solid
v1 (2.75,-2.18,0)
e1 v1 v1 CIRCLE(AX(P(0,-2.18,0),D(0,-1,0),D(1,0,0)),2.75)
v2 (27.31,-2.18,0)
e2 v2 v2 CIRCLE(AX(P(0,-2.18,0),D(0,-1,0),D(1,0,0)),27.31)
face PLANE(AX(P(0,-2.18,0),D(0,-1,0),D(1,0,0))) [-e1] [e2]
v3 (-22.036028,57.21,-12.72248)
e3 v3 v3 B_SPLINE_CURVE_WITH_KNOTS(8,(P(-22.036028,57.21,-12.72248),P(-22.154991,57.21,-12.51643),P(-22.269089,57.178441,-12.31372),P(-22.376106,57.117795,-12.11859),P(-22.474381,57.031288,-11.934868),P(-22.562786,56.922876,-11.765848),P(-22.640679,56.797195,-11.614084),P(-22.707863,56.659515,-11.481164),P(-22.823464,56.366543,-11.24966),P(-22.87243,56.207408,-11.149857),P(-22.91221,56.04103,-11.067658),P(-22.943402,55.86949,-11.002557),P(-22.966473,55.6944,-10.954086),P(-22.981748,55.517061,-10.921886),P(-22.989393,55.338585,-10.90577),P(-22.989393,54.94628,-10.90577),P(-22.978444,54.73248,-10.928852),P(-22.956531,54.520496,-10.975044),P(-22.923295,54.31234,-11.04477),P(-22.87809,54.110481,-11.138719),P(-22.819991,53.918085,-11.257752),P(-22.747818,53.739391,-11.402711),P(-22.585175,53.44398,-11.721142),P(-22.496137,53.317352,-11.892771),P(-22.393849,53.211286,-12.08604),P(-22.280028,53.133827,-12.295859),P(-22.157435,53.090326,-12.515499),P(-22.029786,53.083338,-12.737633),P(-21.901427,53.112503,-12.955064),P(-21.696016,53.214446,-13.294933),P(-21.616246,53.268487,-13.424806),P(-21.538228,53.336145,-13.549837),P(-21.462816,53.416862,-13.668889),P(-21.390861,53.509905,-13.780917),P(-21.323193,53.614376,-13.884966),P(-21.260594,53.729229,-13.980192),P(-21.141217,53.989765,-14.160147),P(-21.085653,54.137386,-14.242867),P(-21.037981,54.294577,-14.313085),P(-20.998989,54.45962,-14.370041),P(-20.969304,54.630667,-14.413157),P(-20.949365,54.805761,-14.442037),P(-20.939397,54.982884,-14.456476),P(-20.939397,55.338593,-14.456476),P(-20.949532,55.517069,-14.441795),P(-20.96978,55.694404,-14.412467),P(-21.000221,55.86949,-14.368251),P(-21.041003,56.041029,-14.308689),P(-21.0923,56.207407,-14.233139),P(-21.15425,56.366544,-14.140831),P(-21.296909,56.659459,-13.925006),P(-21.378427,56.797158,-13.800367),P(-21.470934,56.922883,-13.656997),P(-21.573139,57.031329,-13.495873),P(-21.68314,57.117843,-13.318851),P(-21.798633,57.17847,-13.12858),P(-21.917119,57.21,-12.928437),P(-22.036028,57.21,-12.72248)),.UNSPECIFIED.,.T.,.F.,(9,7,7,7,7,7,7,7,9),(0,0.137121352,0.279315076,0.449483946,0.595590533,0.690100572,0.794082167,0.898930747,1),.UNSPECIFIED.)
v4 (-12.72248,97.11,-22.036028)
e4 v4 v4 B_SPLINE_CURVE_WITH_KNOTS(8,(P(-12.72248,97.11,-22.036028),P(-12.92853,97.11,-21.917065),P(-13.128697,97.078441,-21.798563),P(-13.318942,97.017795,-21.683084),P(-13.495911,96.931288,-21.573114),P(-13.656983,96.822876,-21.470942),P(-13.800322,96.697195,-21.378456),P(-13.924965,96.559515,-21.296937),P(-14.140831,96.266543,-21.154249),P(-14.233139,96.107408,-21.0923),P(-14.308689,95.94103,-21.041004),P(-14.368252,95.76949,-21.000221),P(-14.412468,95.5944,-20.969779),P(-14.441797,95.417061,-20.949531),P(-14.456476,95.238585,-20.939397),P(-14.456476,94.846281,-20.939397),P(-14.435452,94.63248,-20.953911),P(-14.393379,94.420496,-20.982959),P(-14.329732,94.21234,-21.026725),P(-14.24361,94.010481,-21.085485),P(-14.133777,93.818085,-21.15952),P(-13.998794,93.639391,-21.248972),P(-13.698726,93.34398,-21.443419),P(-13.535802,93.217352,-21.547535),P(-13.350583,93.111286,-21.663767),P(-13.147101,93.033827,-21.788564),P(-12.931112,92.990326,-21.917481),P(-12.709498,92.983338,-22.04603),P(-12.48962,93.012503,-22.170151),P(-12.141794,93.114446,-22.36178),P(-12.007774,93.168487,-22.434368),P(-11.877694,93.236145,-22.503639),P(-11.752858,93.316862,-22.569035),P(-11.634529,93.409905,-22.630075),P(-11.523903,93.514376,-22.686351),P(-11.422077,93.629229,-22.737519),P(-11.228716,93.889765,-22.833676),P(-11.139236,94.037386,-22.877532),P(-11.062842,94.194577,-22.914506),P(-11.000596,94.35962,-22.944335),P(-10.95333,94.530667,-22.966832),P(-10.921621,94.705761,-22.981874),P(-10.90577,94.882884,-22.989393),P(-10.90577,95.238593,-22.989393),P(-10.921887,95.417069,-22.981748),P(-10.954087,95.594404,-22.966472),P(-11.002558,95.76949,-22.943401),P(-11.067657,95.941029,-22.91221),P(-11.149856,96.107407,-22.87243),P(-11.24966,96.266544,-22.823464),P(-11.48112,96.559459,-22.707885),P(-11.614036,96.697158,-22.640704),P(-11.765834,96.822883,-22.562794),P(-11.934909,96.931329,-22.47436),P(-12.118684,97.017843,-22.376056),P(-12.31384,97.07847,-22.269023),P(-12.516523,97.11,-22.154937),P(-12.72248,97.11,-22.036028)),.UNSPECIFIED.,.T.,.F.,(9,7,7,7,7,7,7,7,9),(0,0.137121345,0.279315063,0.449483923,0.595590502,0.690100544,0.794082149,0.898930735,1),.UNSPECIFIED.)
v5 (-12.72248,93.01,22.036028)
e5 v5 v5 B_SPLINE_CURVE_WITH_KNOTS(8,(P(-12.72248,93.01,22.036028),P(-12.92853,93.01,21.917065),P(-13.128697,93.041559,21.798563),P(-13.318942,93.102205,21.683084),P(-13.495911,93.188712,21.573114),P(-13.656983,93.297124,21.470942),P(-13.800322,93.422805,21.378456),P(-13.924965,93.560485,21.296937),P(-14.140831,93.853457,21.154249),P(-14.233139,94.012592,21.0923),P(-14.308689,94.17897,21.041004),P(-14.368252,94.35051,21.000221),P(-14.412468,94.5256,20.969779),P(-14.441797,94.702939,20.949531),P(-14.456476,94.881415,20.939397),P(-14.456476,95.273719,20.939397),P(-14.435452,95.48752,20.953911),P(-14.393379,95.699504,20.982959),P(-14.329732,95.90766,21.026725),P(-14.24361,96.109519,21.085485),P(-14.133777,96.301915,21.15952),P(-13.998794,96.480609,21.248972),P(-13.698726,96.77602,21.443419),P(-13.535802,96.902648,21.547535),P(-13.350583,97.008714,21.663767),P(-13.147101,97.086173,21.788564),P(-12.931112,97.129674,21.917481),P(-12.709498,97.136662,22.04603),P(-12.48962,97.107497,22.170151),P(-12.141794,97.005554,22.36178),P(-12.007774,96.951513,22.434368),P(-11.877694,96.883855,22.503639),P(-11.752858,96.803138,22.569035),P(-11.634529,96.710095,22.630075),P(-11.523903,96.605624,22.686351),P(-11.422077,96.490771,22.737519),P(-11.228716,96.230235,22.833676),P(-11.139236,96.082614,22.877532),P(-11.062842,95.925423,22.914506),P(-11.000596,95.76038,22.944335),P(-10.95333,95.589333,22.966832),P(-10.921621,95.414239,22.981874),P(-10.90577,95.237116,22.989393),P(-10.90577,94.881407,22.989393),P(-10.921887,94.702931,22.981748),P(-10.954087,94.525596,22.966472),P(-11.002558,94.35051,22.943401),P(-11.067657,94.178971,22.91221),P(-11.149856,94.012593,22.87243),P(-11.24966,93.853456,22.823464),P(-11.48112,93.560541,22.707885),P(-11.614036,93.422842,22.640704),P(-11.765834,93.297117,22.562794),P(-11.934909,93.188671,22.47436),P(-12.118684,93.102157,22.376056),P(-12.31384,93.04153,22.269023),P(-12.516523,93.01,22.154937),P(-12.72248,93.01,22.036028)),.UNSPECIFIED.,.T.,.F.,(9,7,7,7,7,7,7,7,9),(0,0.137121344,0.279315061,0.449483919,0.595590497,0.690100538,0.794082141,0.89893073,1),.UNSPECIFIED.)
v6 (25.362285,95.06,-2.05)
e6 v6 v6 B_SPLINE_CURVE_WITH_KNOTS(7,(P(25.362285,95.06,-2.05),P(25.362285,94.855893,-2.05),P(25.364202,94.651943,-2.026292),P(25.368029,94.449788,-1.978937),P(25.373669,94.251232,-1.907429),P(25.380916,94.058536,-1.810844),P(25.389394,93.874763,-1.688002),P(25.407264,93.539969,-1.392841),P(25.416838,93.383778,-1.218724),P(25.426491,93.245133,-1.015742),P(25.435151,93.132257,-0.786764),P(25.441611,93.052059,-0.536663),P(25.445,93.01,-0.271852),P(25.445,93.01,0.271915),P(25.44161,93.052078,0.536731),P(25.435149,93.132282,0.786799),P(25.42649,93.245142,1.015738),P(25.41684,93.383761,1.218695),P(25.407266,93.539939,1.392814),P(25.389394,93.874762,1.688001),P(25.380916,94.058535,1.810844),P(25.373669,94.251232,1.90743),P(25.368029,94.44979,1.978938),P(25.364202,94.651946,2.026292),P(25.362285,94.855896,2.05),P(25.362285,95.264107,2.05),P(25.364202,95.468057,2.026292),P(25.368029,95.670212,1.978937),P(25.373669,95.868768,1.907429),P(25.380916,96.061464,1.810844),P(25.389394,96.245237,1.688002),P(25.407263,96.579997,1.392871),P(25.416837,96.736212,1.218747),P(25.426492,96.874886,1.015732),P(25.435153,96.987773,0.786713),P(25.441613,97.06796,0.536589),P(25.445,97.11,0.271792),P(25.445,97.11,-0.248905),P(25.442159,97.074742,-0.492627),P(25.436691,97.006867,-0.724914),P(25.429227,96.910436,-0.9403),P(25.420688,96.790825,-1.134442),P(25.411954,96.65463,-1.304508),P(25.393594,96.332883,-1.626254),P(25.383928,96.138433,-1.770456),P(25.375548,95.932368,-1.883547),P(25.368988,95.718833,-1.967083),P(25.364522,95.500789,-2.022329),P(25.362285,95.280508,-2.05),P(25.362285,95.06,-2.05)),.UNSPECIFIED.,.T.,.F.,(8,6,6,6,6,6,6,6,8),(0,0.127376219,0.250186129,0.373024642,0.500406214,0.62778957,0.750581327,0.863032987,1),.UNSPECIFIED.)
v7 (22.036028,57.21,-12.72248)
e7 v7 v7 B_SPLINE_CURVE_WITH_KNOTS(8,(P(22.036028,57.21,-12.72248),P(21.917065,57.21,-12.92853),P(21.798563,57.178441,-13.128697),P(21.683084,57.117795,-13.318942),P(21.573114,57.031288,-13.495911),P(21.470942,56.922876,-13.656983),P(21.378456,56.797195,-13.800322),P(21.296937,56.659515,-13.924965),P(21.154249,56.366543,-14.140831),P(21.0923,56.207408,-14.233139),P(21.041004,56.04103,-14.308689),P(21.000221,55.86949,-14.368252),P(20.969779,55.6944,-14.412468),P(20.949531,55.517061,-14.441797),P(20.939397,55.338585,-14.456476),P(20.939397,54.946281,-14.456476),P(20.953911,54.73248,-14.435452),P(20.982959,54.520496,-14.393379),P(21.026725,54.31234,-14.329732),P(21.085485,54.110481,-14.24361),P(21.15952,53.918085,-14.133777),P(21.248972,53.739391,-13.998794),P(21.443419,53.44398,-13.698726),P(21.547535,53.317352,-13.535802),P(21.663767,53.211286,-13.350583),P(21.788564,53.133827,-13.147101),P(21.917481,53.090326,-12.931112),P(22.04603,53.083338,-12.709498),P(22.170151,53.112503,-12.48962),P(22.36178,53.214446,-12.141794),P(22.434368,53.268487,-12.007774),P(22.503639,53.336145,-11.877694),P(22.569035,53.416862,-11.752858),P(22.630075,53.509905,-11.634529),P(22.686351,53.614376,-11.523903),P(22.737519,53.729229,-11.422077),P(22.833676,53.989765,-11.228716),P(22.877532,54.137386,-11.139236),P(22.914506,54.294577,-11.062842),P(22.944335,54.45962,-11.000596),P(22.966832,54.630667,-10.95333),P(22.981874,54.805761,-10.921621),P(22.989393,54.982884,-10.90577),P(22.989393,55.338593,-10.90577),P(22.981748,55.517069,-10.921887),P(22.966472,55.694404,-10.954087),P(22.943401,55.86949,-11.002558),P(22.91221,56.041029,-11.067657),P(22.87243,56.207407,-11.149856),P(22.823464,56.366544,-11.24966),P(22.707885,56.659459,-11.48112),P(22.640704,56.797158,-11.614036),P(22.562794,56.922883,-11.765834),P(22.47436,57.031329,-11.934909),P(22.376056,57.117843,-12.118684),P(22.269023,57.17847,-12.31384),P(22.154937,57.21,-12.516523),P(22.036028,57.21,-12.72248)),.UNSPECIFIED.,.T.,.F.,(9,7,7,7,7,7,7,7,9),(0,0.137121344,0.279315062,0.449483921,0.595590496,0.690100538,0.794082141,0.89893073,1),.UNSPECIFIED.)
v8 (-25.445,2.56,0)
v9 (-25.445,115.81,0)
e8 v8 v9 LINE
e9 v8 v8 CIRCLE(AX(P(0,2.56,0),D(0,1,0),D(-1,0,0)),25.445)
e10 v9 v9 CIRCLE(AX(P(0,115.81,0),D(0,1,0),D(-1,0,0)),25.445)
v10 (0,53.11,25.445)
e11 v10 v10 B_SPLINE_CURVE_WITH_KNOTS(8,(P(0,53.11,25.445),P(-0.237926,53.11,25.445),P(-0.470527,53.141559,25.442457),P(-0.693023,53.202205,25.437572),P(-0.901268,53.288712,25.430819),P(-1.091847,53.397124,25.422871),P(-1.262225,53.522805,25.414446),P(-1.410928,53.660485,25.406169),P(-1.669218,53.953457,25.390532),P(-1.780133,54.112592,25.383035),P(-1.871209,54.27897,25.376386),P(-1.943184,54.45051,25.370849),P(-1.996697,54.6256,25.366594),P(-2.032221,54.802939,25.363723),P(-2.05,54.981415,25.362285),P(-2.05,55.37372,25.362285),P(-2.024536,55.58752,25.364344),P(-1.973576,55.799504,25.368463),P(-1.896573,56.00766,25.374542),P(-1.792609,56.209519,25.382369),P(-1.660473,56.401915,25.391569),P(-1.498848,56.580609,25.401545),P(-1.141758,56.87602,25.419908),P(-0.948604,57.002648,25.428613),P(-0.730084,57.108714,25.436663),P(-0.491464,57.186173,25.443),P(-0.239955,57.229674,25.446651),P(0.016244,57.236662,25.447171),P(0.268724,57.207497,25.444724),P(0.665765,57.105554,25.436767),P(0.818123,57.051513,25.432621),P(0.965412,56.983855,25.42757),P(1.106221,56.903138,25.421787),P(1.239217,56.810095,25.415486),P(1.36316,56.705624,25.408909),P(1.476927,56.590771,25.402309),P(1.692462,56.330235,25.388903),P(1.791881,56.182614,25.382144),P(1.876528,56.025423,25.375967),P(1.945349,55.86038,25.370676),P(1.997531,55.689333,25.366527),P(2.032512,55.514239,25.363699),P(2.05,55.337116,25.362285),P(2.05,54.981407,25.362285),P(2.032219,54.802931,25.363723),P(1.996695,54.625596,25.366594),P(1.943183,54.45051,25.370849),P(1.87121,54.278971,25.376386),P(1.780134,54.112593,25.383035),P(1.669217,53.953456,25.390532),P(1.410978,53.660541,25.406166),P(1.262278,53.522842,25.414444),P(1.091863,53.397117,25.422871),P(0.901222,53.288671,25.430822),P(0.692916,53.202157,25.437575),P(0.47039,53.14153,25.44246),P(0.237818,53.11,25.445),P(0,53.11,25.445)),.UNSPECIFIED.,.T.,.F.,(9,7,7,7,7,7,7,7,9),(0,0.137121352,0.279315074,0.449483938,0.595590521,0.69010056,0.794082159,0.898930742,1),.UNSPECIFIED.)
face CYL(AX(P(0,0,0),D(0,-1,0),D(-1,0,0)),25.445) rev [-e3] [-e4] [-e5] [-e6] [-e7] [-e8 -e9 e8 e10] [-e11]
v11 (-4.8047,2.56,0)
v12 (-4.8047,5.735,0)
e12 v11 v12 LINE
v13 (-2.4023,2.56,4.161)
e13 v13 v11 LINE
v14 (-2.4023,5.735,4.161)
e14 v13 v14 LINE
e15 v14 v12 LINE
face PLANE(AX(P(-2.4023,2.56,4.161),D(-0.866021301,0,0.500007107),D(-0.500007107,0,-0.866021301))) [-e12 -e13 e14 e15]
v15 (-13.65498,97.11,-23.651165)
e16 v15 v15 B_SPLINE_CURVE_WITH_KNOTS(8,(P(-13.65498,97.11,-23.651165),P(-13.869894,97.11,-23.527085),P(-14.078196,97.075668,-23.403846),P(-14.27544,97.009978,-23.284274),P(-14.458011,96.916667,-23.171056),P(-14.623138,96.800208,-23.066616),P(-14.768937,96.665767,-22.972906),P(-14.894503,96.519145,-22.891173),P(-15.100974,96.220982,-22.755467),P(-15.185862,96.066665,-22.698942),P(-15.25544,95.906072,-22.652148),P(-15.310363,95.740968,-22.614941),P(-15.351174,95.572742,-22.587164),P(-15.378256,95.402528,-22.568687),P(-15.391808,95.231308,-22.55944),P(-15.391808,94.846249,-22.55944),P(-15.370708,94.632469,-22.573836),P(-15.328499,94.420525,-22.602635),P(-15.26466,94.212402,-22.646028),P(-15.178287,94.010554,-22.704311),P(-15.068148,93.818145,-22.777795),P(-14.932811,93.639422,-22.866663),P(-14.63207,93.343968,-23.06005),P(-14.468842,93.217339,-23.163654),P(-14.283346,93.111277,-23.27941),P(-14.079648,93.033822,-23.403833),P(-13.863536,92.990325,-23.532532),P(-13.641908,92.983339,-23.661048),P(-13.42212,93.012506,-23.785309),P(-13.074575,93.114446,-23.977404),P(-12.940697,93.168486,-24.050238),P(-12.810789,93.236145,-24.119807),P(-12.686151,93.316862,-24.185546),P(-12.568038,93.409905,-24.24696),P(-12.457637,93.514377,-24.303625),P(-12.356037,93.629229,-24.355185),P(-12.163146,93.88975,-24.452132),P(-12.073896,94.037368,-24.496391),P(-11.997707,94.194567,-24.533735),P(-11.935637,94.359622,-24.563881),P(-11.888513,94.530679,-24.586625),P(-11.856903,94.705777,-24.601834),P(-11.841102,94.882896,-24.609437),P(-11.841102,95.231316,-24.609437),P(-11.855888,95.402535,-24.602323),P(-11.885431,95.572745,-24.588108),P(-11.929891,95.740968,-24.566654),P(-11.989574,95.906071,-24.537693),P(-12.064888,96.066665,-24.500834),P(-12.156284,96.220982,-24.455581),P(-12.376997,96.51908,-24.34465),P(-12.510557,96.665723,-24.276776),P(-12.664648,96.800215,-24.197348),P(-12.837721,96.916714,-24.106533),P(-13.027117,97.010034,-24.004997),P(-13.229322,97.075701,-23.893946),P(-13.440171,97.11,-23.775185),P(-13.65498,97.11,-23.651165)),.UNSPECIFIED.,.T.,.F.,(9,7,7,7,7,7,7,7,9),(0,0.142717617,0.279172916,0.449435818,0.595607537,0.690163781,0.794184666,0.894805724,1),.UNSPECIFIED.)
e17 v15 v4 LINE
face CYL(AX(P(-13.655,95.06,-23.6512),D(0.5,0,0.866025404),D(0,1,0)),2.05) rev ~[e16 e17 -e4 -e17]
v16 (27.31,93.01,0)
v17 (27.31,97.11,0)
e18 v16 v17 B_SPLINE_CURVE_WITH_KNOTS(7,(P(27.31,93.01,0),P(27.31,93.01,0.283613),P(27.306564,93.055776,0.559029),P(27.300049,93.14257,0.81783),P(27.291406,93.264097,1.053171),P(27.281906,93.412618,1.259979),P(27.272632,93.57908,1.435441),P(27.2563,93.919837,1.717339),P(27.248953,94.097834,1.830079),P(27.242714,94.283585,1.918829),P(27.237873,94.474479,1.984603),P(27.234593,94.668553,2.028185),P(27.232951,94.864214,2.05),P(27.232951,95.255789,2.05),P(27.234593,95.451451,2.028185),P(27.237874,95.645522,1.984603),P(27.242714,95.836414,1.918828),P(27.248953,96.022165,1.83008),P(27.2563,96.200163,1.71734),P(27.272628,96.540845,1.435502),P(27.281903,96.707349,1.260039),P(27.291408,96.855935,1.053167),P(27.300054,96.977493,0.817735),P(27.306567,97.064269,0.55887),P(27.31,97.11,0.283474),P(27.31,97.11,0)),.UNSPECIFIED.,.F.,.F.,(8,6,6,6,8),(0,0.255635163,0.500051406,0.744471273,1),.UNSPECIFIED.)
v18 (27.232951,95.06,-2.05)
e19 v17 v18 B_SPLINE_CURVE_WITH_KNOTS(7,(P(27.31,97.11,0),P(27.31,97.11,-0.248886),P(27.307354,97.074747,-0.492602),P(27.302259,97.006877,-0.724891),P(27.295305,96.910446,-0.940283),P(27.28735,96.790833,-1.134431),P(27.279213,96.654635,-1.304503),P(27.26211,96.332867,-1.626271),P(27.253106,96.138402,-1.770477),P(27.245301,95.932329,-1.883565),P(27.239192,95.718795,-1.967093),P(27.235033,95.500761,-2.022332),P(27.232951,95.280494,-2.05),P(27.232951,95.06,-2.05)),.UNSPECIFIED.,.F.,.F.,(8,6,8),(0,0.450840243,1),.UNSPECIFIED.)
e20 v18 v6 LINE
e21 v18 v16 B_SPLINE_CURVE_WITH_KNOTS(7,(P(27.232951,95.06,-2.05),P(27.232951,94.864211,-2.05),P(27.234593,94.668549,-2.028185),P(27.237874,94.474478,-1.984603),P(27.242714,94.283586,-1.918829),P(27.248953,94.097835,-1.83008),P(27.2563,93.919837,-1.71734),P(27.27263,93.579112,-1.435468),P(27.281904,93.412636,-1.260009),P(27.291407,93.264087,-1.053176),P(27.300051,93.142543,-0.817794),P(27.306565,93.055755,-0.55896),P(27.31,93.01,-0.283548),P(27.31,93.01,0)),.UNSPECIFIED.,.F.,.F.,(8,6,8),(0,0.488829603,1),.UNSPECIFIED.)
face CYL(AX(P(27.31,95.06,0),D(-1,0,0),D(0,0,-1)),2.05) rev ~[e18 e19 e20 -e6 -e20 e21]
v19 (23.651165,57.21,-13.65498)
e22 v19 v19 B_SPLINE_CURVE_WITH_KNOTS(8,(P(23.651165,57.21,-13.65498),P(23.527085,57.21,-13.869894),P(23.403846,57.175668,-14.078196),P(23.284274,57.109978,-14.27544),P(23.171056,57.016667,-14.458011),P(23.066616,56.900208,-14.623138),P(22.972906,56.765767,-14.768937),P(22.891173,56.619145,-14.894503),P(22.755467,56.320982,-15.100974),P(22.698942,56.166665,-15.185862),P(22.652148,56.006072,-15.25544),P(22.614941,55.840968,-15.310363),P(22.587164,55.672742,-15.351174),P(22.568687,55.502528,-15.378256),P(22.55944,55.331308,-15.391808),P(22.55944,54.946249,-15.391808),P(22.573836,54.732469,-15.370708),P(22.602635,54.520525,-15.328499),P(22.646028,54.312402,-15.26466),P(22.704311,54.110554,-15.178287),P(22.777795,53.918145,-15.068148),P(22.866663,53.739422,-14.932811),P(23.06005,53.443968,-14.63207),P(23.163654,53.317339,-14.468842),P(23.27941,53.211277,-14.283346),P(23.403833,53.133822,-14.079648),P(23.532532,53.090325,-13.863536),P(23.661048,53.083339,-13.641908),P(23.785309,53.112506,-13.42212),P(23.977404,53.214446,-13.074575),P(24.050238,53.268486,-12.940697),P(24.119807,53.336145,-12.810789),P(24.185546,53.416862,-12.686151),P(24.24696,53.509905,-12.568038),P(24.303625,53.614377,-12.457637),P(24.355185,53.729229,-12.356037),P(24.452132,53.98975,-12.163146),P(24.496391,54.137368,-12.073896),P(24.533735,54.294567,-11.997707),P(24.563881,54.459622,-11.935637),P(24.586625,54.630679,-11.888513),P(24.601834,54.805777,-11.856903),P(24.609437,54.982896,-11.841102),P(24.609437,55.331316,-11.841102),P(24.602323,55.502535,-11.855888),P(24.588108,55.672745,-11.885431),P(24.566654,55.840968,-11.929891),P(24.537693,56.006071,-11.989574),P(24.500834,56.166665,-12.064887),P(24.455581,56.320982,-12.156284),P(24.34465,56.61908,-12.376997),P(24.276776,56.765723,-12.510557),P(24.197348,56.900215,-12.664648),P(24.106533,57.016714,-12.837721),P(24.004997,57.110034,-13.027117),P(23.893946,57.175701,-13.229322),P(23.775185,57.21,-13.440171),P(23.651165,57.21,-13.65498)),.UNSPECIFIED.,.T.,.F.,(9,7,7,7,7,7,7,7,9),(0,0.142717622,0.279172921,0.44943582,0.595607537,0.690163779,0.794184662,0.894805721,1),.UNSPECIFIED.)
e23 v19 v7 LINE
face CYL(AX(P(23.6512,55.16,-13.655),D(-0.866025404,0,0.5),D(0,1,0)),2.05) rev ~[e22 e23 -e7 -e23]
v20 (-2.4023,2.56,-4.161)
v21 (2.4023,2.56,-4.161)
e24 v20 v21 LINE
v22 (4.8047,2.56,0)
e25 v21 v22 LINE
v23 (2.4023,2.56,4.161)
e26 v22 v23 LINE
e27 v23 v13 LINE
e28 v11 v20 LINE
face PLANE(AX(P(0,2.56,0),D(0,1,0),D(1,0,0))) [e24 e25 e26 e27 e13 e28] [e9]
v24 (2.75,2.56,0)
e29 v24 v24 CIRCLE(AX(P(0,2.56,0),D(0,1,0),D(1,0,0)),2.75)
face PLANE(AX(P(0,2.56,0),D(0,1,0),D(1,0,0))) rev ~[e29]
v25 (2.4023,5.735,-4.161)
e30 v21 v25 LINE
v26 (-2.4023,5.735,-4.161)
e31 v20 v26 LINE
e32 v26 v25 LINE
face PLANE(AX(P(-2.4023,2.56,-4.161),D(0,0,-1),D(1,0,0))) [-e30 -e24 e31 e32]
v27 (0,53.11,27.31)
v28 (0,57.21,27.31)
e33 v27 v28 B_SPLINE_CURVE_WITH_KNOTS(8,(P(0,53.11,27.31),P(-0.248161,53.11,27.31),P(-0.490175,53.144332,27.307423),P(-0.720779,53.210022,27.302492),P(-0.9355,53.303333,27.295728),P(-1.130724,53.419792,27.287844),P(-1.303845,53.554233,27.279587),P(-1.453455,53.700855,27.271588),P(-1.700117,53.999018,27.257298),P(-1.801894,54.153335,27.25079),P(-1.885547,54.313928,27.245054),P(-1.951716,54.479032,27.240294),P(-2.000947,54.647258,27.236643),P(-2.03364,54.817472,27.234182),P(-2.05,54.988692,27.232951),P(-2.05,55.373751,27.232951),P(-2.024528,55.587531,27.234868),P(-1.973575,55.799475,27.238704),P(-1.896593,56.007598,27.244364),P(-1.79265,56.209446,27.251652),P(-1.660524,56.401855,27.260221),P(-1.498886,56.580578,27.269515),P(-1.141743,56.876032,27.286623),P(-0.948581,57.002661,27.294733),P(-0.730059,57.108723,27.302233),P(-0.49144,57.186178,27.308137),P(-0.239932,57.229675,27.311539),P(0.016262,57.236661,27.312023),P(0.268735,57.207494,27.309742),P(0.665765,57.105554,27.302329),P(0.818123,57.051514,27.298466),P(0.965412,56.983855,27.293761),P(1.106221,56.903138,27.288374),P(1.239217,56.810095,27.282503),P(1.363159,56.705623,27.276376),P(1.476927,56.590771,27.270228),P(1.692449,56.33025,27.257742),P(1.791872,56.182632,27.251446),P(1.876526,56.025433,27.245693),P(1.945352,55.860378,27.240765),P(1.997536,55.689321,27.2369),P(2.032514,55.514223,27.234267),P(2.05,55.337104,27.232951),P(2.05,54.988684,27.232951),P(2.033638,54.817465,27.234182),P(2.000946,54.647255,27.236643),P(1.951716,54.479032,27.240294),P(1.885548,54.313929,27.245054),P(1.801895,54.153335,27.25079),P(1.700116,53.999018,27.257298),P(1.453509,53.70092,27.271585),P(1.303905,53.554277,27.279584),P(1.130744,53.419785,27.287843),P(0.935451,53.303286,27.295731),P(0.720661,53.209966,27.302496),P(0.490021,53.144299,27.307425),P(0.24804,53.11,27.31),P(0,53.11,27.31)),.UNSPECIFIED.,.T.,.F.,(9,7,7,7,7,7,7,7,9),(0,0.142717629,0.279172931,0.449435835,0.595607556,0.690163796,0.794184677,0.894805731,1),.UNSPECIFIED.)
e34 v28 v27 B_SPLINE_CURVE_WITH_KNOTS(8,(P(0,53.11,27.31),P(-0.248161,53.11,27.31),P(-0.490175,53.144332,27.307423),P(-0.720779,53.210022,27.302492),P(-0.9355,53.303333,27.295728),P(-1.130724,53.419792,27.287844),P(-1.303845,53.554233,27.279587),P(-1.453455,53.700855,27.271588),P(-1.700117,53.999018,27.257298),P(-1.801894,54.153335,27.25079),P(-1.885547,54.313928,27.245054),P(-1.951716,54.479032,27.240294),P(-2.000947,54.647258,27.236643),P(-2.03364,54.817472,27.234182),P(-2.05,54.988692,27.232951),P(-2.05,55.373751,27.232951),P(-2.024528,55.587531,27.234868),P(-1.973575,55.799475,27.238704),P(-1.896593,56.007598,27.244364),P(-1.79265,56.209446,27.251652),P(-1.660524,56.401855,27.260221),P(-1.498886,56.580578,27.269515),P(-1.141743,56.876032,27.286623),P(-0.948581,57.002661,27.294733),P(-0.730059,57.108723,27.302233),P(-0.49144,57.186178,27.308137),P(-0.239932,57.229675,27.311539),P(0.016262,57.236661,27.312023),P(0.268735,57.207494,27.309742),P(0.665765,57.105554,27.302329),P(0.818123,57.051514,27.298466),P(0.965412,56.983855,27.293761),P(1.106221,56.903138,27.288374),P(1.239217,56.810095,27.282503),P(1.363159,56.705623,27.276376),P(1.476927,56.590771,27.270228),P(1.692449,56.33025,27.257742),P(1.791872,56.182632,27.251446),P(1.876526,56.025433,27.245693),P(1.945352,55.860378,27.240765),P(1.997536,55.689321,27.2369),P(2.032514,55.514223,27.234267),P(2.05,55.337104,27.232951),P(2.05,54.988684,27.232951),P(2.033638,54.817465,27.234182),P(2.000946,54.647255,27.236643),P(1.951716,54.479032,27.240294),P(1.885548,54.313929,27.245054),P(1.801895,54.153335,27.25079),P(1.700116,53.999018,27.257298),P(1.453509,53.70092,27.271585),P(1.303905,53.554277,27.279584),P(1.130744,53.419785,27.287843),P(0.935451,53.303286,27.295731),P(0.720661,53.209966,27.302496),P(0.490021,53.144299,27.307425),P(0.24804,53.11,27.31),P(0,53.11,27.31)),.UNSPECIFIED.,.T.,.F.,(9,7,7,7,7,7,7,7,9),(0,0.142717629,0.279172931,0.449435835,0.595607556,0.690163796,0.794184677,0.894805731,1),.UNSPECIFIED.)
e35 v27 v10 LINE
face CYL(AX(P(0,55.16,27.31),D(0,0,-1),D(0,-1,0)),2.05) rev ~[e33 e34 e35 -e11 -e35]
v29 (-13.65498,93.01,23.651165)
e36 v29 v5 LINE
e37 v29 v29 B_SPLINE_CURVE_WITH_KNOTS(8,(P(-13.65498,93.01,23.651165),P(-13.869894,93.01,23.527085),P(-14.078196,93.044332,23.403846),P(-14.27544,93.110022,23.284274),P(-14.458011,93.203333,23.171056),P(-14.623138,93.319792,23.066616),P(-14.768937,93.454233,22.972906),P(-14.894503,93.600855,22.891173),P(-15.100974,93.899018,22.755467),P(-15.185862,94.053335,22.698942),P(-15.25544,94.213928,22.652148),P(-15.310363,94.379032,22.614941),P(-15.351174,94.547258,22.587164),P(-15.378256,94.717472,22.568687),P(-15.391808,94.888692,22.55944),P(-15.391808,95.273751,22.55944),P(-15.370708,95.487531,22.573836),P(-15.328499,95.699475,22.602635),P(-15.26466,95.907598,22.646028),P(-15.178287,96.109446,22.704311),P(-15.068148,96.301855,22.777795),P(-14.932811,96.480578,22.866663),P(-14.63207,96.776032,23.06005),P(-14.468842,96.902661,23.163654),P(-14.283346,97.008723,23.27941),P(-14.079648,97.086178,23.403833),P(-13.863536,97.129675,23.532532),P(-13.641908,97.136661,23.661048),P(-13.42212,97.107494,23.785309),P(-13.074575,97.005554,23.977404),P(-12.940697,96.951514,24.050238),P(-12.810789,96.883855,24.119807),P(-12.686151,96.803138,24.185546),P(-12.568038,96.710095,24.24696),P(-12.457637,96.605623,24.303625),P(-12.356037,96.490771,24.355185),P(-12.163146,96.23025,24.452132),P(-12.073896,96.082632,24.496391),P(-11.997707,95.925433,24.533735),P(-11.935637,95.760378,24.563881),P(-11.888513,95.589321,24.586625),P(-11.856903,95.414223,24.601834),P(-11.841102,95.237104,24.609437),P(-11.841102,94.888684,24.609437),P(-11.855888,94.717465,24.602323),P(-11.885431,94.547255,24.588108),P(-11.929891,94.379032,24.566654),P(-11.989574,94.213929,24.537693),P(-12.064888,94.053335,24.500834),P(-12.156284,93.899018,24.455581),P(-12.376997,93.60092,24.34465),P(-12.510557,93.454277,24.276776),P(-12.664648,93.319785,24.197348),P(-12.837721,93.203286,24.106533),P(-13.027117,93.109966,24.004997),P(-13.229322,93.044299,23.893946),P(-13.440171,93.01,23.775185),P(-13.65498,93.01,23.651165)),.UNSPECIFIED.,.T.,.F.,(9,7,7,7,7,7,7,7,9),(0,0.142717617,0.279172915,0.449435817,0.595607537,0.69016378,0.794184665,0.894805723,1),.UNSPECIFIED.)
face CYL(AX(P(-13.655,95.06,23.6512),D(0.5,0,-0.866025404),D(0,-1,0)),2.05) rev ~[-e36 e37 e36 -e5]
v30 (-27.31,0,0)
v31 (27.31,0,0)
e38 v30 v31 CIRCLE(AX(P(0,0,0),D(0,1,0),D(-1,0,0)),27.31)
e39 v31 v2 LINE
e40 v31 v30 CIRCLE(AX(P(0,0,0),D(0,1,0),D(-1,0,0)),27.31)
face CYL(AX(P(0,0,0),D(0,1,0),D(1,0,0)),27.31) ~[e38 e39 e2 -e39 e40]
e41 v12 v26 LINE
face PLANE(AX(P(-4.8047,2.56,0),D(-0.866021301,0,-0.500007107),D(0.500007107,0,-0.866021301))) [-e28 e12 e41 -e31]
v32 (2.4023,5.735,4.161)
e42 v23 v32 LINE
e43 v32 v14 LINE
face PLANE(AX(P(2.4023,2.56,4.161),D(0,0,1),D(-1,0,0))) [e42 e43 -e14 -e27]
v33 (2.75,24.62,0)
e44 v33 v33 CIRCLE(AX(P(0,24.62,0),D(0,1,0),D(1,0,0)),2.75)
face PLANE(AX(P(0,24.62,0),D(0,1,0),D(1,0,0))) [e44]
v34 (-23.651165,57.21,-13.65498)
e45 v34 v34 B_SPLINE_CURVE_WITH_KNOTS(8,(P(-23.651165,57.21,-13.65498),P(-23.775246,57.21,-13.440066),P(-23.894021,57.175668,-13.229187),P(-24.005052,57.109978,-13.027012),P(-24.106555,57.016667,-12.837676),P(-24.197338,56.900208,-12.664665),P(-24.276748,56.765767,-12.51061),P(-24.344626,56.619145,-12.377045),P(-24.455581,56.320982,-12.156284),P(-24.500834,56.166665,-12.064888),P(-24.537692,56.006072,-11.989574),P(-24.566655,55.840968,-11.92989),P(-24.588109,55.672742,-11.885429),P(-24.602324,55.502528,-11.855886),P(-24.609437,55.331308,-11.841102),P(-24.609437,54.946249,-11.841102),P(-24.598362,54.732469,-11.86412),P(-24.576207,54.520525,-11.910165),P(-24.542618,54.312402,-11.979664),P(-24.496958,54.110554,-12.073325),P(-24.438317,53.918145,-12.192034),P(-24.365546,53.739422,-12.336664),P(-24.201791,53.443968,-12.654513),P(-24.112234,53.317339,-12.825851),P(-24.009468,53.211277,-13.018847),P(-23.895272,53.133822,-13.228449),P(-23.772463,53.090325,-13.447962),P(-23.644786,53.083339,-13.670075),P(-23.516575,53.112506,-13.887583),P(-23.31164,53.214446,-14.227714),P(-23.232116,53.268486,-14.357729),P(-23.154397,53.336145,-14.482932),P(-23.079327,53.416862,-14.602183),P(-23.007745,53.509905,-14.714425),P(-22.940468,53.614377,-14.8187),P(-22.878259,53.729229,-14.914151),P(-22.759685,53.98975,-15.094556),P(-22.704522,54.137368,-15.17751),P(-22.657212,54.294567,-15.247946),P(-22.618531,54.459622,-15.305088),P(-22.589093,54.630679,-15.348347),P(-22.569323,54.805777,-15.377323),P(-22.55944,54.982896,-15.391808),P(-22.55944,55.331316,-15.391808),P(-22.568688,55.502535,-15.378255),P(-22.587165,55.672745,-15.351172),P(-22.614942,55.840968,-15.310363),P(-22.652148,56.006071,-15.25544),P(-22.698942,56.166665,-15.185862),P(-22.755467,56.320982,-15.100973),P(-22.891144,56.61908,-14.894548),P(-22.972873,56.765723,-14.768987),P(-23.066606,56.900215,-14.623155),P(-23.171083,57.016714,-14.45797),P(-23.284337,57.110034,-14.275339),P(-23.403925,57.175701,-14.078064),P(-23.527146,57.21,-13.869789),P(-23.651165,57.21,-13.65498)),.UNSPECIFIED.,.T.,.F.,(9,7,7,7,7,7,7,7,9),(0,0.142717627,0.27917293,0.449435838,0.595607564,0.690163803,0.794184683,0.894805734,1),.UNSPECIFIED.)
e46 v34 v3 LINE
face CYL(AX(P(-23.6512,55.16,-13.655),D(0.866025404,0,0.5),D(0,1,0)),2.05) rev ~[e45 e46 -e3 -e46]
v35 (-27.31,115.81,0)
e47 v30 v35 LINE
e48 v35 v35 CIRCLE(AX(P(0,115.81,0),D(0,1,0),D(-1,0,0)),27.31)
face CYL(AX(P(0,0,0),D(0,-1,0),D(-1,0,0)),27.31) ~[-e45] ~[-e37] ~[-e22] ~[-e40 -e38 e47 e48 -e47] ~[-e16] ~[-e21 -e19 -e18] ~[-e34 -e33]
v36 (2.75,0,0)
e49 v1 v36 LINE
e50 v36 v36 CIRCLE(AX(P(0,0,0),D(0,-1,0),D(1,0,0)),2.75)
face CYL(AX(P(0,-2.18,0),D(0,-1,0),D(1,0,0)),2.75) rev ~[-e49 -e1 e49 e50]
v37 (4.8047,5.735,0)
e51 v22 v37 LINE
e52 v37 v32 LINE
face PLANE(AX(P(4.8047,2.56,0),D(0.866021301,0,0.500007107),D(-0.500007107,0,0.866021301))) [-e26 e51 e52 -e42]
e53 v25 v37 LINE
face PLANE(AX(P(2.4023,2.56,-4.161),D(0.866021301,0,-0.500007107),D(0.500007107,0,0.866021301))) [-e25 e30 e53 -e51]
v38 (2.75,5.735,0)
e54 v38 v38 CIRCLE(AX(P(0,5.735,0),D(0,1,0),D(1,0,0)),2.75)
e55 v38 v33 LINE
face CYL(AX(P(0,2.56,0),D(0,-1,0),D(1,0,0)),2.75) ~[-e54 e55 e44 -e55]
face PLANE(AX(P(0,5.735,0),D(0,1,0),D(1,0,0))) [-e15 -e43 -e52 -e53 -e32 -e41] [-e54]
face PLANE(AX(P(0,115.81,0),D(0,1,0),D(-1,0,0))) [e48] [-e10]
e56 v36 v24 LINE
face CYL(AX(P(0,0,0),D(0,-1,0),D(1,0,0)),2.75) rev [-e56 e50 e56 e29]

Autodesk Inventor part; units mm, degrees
ref_plane "YZ Plane" through (0, 0, 0) normal (1, 0, 0) x (0, 1, 0)
sketch "Sketch1" plane through (0, 0, 0) normal (0, 1, 0) x (-1, 0, 0)
  circle A0 centre (0, 0) radius 27.31
  circle A1 centre (0, 0) radius 25.445
  dimension "d0" = 54.62
  dimension "d1" = 50.89
extrude "Extrusion1" add sketch "Sketch1" along normal blind 115.81
sketch "Sketch2" plane through (0, 0, 0) normal (0, -1, 0) x (1, 0, 0)
  circle A0 centre (0, 0) radius 27.31
extrude "Extrusion2" add sketch "Sketch2" along normal blind 2.18
sketch "Sketch3" plane through (0, -2.18, 0) normal (0, -1, 0) x (1, 0, 0)
  circle A0 centre (0, 0) radius 2.75
  dimension "d6" = 5.5
extrude "Extrusion3" cut sketch "Sketch3" against normal up to surface (2.18 mm away)
sketch "Sketch4" plane through (0, 0, 0) normal (0, 1, 0) x (1, 0, 0)
  circle A0 centre (0, 0) radius 2.75 projected
  circle A1 centre (0, 0) radius 25.445
  circle A2 centre (0, 0) radius 2.75
extrude "Extrusion4" add sketch "Sketch4" along normal blind 2.56
ref_plane "Work Plane1" through (0, 95.06, 0) normal (0, 1, 0) x (1, 0, 0)
sketch "Sketch6" plane through (0, 95.06, 0) normal (0, 1, 0) x (1, 0, 0)
  circle A0 centre (0, 0) radius 27.31 projected
  point P0 (27.31, 0)
  point P1 (-13.655, 23.6512)
  point P2 (-13.655, -23.6512)
  dimension "d18" = 360
hole "Hole1" at (-13.655, 95.06, -23.6512) direction (0.5, 0, 0.866) diameter 4.1 depth 2
hole "Hole2" at (-13.655, 95.06, 23.6512) direction (0.5, 0, -0.866) diameter 4.1 depth 2
hole "Hole3" at (27.31, 95.06, 0) direction (-1, 0, 0) diameter 4.1 depth 2
ref_plane "Work Plane2" through (0, 55.16, 0) normal (0, 1, 0) x (1, 0, 0)
sketch "Sketch7" plane through (0, 55.16, 0) normal (0, 1, 0) x (1, 0, 0)
  circle A0 centre (0, 0) radius 27.31 projected
  point P0 (0, -27.31)
  point P1 (23.6512, 13.655)
  point P2 (-23.6512, 13.655)
  dimension "d50" = 360
hole "Hole4" at (23.6512, 55.16, -13.655) direction (-0.866, 0, 0.5) diameter 4.1 depth 2
hole "Hole5" at (0, 55.16, 27.31) direction (0, 0, -1) diameter 4.1 depth 2
hole "Hole6" at (-23.6512, 55.16, -13.655) direction (0.866, 0, 0.5) diameter 4.1 depth 2
sketch "Sketch8" plane through (0, 2.56, 0) normal (0, 1, 0) x (1, 0, 0)
  circle A0 centre (0, 0) radius 2.75
  circle A1 centre (0, 0) radius 2.75 projected
  line L0 (-4.8047, 0) -> (-2.4023, 4.161)
  line L1 (-2.4023, 4.161) -> (2.4023, 4.161)
  line L2 (2.4023, 4.161) -> (4.8047, 0)
  line L3 (4.8047, 0) -> (2.4023, -4.161)
  line L4 (2.4023, -4.161) -> (-2.4023, -4.161)
  line L5 (-2.4023, -4.161) -> (-4.8047, 0)
extrude "Extrusion5" add sketch "Sketch8" along normal blind 22.06 contours A0
extrude "Extrusion6" add sketch "Sketch8" along normal blind 3.175
ref_plane "Work Plane3" through (-2.4023, 2.56, -0.919) normal (0, 0, 1) x (1, 0, 0)
properties part number "avbay"
